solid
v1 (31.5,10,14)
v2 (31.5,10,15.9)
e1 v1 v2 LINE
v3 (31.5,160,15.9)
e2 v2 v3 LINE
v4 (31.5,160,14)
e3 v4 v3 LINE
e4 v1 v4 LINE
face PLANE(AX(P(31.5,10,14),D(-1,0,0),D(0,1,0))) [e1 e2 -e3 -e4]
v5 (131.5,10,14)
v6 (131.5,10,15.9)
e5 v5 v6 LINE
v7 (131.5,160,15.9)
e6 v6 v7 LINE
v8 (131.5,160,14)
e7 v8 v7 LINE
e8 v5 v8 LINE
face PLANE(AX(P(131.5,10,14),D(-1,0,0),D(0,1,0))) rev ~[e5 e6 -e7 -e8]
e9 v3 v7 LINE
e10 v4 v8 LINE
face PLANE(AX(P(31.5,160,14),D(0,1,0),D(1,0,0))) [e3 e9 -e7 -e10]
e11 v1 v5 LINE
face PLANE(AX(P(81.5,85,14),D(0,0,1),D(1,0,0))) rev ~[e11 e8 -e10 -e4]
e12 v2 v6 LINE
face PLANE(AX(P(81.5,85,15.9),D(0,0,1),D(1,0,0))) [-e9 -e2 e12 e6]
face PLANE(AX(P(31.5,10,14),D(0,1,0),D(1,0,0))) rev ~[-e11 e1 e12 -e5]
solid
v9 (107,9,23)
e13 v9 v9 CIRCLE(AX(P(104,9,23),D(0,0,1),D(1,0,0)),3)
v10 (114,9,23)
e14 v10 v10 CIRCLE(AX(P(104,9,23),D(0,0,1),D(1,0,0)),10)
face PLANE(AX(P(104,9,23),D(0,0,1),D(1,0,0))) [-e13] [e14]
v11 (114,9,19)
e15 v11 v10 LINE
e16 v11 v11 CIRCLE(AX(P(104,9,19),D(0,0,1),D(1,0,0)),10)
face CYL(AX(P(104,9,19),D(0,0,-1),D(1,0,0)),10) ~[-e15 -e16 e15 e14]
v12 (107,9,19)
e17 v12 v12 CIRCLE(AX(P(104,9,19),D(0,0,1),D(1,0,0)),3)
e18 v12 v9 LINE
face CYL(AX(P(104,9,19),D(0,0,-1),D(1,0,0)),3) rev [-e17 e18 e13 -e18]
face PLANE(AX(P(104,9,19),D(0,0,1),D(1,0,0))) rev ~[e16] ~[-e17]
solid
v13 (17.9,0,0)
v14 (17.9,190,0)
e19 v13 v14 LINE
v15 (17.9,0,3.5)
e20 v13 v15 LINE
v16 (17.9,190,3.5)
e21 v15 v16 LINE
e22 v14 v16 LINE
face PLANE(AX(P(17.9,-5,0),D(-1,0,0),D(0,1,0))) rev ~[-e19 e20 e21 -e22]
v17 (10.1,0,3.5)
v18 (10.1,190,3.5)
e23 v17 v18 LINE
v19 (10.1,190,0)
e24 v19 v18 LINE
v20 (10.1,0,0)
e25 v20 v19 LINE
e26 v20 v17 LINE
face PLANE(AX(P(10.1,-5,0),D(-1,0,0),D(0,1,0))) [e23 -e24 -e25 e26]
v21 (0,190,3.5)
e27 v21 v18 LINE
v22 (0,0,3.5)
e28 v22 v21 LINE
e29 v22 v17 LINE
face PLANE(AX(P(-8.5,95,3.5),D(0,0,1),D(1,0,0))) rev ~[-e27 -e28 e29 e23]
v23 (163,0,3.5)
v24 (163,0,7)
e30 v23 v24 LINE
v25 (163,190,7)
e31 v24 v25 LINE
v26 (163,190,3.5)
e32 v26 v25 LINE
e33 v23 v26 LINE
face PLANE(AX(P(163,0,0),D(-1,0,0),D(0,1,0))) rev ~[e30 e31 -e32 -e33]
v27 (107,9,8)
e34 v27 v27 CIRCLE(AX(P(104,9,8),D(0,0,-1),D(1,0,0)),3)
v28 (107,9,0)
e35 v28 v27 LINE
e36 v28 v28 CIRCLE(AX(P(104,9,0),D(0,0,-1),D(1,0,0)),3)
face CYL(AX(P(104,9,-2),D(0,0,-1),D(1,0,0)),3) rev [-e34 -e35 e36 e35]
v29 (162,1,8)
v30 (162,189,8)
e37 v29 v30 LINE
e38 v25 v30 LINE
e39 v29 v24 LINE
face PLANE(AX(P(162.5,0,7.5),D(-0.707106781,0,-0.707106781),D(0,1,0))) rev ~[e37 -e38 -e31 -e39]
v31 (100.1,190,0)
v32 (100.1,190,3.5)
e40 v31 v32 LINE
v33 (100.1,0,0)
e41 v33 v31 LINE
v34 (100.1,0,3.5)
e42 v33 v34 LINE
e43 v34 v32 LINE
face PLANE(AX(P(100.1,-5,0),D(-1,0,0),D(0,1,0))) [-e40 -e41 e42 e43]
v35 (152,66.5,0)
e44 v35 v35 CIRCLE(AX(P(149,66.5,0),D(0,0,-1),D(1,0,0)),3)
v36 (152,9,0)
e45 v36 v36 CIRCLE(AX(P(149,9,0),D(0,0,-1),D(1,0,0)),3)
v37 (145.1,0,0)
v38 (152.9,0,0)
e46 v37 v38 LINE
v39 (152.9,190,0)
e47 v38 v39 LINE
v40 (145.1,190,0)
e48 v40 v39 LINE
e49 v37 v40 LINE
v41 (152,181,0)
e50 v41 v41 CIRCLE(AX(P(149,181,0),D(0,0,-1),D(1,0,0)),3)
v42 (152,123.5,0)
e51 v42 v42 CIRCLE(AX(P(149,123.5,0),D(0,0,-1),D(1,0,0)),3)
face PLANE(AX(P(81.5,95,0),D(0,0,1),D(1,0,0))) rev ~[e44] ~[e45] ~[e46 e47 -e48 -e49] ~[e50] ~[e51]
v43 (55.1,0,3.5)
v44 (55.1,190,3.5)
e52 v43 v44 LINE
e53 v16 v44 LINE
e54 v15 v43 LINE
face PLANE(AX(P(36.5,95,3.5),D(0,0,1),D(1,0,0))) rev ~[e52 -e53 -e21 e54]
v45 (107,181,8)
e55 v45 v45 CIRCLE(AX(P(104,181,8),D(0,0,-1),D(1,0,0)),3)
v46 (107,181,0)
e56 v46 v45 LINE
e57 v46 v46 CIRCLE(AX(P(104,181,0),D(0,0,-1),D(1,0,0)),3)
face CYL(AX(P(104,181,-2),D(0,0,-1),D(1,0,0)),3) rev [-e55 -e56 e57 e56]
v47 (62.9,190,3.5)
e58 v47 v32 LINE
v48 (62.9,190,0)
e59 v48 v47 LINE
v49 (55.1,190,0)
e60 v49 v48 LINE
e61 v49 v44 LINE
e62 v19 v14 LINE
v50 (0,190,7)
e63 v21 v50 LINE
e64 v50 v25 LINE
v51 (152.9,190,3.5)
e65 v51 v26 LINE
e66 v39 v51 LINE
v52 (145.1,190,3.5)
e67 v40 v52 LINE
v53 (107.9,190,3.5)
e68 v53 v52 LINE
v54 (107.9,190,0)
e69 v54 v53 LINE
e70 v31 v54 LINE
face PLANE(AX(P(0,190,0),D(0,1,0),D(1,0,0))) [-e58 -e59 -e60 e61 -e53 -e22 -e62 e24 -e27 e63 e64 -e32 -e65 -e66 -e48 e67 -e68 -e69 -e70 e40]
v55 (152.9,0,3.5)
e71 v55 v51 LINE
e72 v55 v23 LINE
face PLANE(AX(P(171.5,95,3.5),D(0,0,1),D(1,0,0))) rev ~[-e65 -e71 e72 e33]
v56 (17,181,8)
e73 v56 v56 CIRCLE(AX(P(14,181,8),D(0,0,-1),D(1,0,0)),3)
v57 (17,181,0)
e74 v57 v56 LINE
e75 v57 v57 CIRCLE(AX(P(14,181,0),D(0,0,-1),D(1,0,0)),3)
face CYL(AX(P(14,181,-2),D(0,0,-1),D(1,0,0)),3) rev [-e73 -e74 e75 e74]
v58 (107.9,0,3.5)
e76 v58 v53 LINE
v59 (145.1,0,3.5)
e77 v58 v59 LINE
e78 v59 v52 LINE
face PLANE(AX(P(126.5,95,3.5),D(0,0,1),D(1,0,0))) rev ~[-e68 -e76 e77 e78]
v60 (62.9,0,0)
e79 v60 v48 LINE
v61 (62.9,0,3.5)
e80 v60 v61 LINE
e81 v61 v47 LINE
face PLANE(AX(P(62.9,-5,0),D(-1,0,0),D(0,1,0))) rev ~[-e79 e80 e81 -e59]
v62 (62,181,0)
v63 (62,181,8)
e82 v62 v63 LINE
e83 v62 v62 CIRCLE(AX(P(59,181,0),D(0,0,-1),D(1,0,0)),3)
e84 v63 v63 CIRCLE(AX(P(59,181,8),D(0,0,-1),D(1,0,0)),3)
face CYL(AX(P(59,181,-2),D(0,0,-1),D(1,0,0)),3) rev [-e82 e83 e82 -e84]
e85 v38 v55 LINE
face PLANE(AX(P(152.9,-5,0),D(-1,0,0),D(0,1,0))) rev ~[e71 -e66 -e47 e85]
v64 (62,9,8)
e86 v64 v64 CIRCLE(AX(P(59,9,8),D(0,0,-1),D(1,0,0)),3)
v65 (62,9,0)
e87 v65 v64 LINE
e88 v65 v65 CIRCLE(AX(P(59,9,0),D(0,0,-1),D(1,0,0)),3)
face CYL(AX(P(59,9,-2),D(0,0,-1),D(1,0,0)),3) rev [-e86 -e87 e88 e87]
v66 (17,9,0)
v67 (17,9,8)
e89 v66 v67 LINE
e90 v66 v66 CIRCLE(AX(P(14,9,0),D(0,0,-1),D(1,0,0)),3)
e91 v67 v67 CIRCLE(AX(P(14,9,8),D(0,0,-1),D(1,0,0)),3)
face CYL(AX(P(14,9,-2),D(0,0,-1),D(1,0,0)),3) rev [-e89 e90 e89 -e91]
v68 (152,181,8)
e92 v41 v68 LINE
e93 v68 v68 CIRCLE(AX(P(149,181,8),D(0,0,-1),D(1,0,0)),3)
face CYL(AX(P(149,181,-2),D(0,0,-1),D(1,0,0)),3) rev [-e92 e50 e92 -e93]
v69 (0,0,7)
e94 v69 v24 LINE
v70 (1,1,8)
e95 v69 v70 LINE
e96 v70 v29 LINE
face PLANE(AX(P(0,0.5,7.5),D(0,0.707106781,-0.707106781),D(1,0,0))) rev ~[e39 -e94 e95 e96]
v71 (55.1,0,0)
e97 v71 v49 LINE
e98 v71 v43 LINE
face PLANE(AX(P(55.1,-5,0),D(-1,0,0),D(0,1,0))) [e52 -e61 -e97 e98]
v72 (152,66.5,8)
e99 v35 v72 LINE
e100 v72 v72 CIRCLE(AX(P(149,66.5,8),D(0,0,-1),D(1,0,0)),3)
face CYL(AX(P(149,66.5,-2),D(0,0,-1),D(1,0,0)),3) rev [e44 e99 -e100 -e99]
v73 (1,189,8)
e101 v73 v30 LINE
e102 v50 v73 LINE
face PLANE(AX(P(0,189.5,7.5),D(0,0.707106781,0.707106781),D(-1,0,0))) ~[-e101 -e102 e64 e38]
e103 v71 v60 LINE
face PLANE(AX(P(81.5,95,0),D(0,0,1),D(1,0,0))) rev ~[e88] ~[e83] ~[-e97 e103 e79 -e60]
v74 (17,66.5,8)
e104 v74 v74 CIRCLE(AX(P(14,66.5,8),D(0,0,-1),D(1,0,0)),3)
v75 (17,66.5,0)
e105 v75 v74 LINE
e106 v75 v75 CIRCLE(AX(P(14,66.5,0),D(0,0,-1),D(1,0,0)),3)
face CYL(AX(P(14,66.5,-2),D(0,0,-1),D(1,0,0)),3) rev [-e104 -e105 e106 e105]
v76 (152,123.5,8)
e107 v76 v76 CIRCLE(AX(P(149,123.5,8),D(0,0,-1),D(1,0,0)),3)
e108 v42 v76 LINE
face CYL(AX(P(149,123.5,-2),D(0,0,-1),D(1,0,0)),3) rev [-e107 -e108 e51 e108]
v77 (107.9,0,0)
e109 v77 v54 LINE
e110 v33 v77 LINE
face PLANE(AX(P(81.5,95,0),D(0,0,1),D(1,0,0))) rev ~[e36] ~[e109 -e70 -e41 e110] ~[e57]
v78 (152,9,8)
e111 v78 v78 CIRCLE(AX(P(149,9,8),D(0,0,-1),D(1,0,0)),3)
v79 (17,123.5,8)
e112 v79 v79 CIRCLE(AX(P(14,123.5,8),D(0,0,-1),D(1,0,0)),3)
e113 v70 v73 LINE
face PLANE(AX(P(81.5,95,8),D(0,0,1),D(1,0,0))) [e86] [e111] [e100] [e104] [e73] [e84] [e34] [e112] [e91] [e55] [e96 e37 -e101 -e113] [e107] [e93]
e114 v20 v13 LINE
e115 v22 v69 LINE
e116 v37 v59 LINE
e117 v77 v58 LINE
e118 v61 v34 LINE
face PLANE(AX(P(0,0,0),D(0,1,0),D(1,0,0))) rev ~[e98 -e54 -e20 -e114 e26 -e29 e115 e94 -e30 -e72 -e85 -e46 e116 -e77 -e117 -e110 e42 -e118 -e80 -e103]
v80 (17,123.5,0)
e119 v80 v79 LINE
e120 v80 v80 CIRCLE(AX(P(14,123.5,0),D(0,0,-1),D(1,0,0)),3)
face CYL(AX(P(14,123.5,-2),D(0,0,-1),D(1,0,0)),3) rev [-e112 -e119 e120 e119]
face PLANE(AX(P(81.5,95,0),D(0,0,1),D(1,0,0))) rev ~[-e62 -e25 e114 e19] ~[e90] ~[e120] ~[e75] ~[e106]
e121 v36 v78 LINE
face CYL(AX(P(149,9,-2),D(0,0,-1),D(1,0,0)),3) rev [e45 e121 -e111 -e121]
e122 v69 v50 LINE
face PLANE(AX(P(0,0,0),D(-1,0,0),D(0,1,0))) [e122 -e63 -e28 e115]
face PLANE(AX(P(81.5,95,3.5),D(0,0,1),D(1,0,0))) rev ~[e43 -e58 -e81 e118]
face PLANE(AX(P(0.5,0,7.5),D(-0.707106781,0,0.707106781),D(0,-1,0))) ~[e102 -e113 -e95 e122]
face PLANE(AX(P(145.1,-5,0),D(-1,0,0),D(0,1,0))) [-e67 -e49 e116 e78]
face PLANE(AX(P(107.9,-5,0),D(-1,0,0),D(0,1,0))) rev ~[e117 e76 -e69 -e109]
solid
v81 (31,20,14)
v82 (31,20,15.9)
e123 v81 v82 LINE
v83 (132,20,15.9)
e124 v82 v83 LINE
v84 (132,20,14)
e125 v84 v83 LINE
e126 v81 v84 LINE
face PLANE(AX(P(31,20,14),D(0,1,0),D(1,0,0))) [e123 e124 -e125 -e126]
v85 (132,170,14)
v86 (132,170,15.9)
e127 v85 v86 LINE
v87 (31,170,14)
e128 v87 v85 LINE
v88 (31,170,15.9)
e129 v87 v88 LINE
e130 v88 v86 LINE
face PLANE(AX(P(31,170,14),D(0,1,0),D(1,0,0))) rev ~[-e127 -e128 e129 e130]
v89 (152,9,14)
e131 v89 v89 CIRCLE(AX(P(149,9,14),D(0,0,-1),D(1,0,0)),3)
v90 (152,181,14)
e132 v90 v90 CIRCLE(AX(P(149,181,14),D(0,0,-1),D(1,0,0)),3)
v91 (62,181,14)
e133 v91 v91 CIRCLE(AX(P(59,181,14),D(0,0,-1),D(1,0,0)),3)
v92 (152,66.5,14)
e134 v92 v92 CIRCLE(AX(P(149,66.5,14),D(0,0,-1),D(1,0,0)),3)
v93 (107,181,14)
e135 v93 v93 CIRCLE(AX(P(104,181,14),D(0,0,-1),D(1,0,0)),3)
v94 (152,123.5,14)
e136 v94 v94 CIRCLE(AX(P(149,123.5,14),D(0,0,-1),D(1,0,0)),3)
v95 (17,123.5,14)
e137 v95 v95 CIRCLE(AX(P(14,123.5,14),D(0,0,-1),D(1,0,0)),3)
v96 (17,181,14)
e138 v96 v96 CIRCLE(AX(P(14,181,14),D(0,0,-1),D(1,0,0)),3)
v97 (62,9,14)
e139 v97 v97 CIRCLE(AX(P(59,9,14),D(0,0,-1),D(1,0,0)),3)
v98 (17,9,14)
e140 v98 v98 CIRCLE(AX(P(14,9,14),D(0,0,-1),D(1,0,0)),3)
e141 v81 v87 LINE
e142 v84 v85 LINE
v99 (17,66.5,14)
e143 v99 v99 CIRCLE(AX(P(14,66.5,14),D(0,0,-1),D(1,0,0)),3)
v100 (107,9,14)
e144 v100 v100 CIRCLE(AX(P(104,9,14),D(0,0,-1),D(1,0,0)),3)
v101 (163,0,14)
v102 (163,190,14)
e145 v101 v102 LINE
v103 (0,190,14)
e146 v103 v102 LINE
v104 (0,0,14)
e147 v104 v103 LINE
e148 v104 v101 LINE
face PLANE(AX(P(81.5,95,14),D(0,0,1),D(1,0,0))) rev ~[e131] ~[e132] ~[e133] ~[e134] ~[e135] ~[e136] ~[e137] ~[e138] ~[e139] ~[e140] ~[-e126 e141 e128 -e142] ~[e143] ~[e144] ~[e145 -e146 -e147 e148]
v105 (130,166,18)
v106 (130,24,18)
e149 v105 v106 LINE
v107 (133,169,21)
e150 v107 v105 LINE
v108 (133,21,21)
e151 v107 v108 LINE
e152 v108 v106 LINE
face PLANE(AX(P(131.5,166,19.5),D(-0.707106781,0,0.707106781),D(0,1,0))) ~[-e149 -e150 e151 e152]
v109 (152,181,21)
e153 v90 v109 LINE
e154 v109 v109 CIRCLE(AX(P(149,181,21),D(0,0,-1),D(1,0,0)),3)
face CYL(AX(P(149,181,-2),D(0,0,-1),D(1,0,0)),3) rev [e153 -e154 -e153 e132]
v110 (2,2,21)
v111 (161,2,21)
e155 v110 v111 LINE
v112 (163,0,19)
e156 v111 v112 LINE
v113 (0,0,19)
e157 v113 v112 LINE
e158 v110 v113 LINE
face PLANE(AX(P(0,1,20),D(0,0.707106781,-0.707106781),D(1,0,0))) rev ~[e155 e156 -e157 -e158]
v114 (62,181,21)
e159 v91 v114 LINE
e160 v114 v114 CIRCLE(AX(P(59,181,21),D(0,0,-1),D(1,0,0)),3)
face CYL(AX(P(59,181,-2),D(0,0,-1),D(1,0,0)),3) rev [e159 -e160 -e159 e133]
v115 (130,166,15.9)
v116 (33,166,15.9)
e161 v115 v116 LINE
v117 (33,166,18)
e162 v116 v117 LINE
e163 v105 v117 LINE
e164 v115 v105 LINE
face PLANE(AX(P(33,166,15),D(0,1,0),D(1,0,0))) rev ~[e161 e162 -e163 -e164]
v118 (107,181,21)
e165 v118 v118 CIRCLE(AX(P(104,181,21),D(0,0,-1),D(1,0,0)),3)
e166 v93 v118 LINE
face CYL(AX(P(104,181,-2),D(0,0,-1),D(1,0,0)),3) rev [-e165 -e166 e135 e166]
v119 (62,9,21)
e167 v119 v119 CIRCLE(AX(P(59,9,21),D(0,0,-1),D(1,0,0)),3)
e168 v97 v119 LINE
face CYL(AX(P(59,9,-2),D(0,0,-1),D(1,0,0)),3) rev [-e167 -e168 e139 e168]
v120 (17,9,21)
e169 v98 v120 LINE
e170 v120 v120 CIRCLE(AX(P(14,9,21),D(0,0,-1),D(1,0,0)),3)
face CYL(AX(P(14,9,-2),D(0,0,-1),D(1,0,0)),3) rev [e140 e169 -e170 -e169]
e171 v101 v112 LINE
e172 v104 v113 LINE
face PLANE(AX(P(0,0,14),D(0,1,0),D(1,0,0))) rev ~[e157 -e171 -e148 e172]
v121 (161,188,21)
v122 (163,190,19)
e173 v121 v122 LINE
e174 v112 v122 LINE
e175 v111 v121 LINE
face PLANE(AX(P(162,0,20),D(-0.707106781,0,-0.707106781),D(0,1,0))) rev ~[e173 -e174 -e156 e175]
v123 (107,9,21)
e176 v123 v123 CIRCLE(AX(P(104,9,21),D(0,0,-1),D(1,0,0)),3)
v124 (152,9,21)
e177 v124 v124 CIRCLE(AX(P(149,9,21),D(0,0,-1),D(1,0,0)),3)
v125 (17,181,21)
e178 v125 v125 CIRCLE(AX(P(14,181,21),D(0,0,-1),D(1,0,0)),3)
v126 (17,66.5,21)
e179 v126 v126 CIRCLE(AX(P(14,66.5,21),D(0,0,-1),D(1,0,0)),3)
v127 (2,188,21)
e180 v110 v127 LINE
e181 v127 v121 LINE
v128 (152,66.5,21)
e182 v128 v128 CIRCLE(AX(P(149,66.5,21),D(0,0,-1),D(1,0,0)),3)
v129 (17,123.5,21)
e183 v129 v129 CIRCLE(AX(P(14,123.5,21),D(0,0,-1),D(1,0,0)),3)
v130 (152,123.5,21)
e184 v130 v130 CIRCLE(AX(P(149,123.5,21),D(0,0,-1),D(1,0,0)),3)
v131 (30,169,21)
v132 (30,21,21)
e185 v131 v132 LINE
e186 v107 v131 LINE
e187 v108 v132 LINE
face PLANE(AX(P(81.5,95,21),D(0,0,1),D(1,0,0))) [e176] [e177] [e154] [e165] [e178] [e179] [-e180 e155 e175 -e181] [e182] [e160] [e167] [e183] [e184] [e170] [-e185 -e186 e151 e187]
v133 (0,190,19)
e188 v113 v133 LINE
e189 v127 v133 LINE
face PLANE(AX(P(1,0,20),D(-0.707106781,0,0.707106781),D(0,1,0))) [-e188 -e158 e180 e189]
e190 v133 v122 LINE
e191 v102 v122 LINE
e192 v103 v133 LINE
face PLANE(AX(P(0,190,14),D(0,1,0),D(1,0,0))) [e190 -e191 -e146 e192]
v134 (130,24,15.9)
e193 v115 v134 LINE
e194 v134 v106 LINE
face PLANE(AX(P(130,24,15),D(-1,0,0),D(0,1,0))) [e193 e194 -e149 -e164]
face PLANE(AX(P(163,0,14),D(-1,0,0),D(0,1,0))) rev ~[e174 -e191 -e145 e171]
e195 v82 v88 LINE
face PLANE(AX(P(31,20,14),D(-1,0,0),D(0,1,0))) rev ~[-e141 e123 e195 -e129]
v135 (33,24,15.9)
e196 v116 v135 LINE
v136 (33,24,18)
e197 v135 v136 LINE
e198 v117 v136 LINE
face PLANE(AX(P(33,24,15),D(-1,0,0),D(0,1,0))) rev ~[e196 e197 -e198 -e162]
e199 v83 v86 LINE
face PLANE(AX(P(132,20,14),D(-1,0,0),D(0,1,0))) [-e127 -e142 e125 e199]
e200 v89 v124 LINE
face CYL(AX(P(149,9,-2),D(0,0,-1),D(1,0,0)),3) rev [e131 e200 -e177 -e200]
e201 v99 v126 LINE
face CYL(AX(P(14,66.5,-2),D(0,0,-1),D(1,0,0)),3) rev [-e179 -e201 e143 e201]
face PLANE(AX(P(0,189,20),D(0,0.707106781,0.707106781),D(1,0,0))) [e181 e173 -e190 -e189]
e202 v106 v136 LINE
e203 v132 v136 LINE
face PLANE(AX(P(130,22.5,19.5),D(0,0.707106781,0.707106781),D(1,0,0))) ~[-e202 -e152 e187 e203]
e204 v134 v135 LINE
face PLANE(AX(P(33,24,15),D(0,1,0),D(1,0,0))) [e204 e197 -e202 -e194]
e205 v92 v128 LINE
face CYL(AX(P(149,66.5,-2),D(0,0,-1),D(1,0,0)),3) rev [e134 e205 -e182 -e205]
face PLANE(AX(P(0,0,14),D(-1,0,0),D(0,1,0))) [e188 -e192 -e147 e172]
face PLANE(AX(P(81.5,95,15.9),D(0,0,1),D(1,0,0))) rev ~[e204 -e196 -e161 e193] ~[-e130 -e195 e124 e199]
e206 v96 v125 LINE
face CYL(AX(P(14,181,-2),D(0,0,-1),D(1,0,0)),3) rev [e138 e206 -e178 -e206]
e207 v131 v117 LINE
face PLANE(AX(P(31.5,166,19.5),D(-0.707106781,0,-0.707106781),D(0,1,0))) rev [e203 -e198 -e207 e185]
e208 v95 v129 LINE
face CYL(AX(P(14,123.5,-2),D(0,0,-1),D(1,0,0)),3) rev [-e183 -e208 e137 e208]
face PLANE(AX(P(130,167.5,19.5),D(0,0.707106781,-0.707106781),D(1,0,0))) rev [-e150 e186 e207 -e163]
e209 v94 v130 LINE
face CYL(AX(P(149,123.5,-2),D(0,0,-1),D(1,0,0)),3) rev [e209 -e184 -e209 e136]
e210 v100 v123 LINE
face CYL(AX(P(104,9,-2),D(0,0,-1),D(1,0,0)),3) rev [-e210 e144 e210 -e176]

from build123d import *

# Parameters (mm, degrees)
BOX002_W          = 100
BOX002_H          = 150
BOX002_DEPTH      = 1.9
TUBE_R            = 10
TUBE_R_2          = 3
TUBE_DEPTH        = 4
BOX010_W          = 97
BOX010_H          = 142
BOX010_DEPTH      = 10
BOX009_W          = 101
BOX009_H          = 150
BOX009_DEPTH      = 1.9
CYLINDER016_R     = 3
CYLINDER016_DEPTH = 30
CYLINDER014_R     = 3
CYLINDER014_DEPTH = 30
CYLINDER012_R     = 3
CYLINDER012_DEPTH = 30
CYLINDER018_R     = 3
CYLINDER018_DEPTH = 30
CYLINDER019_R     = 3
CYLINDER019_DEPTH = 30
CYLINDER013_R     = 3
CYLINDER013_DEPTH = 30
CYLINDER015_R     = 3
CYLINDER015_DEPTH = 30
CYLINDER017_R     = 3
CYLINDER017_DEPTH = 30
CYLINDER002_R     = 3
CYLINDER002_DEPTH = 30
CYLINDER032_R     = 3
CYLINDER032_DEPTH = 30
CYLINDER021_R     = 3
CYLINDER021_DEPTH = 30
CYLINDER_R        = 3
CYLINDER_DEPTH    = 30
BOX007_W          = 163
BOX007_H          = 190
BOX007_DEPTH      = 7
CHAMFER_SIZE      = 3
CHAMFER001_SIZE   = 2
CYLINDER025_R     = 3
CYLINDER025_DEPTH = 30
CYLINDER031_R     = 3
CYLINDER031_DEPTH = 30
CYLINDER030_R     = 3
CYLINDER030_DEPTH = 30
CYLINDER024_R     = 3
CYLINDER024_DEPTH = 30
CYLINDER026_R     = 3
CYLINDER026_DEPTH = 30
CYLINDER027_R     = 3
CYLINDER027_DEPTH = 30
CYLINDER029_R     = 3
CYLINDER029_DEPTH = 30
CYLINDER023_R     = 3
CYLINDER023_DEPTH = 30
CYLINDER020_R     = 3
CYLINDER020_DEPTH = 30
CYLINDER028_R     = 3
CYLINDER028_DEPTH = 30
CYLINDER022_R     = 3
CYLINDER022_DEPTH = 30
CYLINDER033_R     = 3
CYLINDER033_DEPTH = 30
BOX006_W          = 37.2
BOX006_H          = 200
BOX006_DEPTH      = 3.5
BOX005_W          = 37.2
BOX005_H          = 200
BOX005_DEPTH      = 3.5
BOX004_W          = 37.2
BOX004_H          = 200
BOX004_DEPTH      = 3.5
BOX003_W          = 37.2
BOX003_H          = 200
BOX003_DEPTH      = 3.5
BOX001_W          = 37.2
BOX001_H          = 200
BOX001_DEPTH      = 3.5
BOX_W             = 163
BOX_H             = 190
BOX_DEPTH         = 8
CHAMFER002_SIZE   = 1


with BuildPart() as plate:
    # Box002 → Box002 (new body)
    with BuildSketch(Plane(origin=(31.5, 10, 14), x_dir=(1, 0, 0), z_dir=(0, 0, 1))):
        with Locations((50, 75)):
            Rectangle(BOX002_W, BOX002_H)
    extrude(amount=BOX002_DEPTH)


with BuildPart() as tube:
    # Tube → Tube (new body)
    with BuildSketch(Plane(origin=(104, 9, 19), x_dir=(1, 0, 0), z_dir=(0, 0, 1))):
        Circle(TUBE_R)
        Circle(TUBE_R_2, mode=Mode.SUBTRACT)
    extrude(amount=TUBE_DEPTH)


with BuildPart() as cube007:
    # Box010 → Box010 (new body)
    with BuildSketch(Plane(origin=(33, 24, 15), x_dir=(1, 0, 0), z_dir=(0, 0, 1))):
        with Locations((48.5, 71)):
            Rectangle(BOX010_W, BOX010_H)
    extrude(amount=BOX010_DEPTH)


with BuildPart() as plate002:
    # Box009 → Box009 (new body)
    with BuildSketch(Plane(origin=(31, 20, 14), x_dir=(1, 0, 0), z_dir=(0, 0, 1))):
        with Locations((50.5, 75)):
            Rectangle(BOX009_W, BOX009_H)
    extrude(amount=BOX009_DEPTH)


with BuildPart() as cylinder016:
    # Cylinder016 → Cylinder016 (new body)
    with BuildSketch(Plane(origin=(14, 66.5, -2), x_dir=(1, 0, 0), z_dir=(0, 0, 1))):
        Circle(CYLINDER016_R)
    extrude(amount=CYLINDER016_DEPTH)


with BuildPart() as cylinder014:
    # Cylinder014 → Cylinder014 (new body)
    with BuildSketch(Plane(origin=(14, 123.5, -2), x_dir=(1, 0, 0), z_dir=(0, 0, 1))):
        Circle(CYLINDER014_R)
    extrude(amount=CYLINDER014_DEPTH)


with BuildPart() as cylinder012:
    # Cylinder012 → Cylinder012 (new body)
    with BuildSketch(Plane(origin=(14, 181, -2), x_dir=(1, 0, 0), z_dir=(0, 0, 1))):
        Circle(CYLINDER012_R)
    extrude(amount=CYLINDER012_DEPTH)


with BuildPart() as cylinder018:
    # Cylinder018 → Cylinder018 (new body)
    with BuildSketch(Plane(origin=(59, 181, -2), x_dir=(1, 0, 0), z_dir=(0, 0, 1))):
        Circle(CYLINDER018_R)
    extrude(amount=CYLINDER018_DEPTH)


with BuildPart() as cylinder019:
    # Cylinder019 → Cylinder019 (new body)
    with BuildSketch(Plane(origin=(104, 181, -2), x_dir=(1, 0, 0), z_dir=(0, 0, 1))):
        Circle(CYLINDER019_R)
    extrude(amount=CYLINDER019_DEPTH)


with BuildPart() as cylinder013:
    # Cylinder013 → Cylinder013 (new body)
    with BuildSketch(Plane(origin=(149, 181, -2), x_dir=(1, 0, 0), z_dir=(0, 0, 1))):
        Circle(CYLINDER013_R)
    extrude(amount=CYLINDER013_DEPTH)


with BuildPart() as cylinder015:
    # Cylinder015 → Cylinder015 (new body)
    with BuildSketch(Plane(origin=(149, 123.5, -2), x_dir=(1, 0, 0), z_dir=(0, 0, 1))):
        Circle(CYLINDER015_R)
    extrude(amount=CYLINDER015_DEPTH)


with BuildPart() as cylinder017:
    # Cylinder017 → Cylinder017 (new body)
    with BuildSketch(Plane(origin=(149, 66.5, -2), x_dir=(1, 0, 0), z_dir=(0, 0, 1))):
        Circle(CYLINDER017_R)
    extrude(amount=CYLINDER017_DEPTH)


with BuildPart() as cylinder002:
    # Cylinder002 → Cylinder002 (new body)
    with BuildSketch(Plane(origin=(149, 9, -2), x_dir=(1, 0, 0), z_dir=(0, 0, 1))):
        Circle(CYLINDER002_R)
    extrude(amount=CYLINDER002_DEPTH)


with BuildPart() as cylinder032:
    # Cylinder032 → Cylinder032 (new body)
    with BuildSketch(Plane(origin=(104, 9, -2), x_dir=(1, 0, 0), z_dir=(0, 0, 1))):
        Circle(CYLINDER032_R)
    extrude(amount=CYLINDER032_DEPTH)


with BuildPart() as cylinder021:
    # Cylinder021 → Cylinder021 (new body)
    with BuildSketch(Plane(origin=(59, 9, -2), x_dir=(1, 0, 0), z_dir=(0, 0, 1))):
        Circle(CYLINDER021_R)
    extrude(amount=CYLINDER021_DEPTH)


with BuildPart() as cylinder:
    # Cylinder → Cylinder (new body)
    with BuildSketch(Plane(origin=(14, 9, -2), x_dir=(1, 0, 0), z_dir=(0, 0, 1))):
        Circle(CYLINDER_R)
    extrude(amount=CYLINDER_DEPTH)


with BuildPart() as table_top:
    # Box007 → Box007 (new body)
    with BuildSketch(Plane.XY.offset(14)):
        with Locations((81.5, 95)):
            Rectangle(BOX007_W, BOX007_H)
    extrude(amount=BOX007_DEPTH)

    # Cut005: cut Cylinder
    add(cylinder.part, mode=Mode.SUBTRACT)

    # Cut006: cut Cylinder021
    add(cylinder021.part, mode=Mode.SUBTRACT)

    # Cut007: cut Cylinder032
    add(cylinder032.part, mode=Mode.SUBTRACT)

    # Cut008: cut Cylinder002
    add(cylinder002.part, mode=Mode.SUBTRACT)

    # Cut009: cut Cylinder017
    add(cylinder017.part, mode=Mode.SUBTRACT)

    # Cut010: cut Cylinder015
    add(cylinder015.part, mode=Mode.SUBTRACT)

    # Cut011: cut Cylinder013
    add(cylinder013.part, mode=Mode.SUBTRACT)

    # Cut012: cut Cylinder019
    add(cylinder019.part, mode=Mode.SUBTRACT)

    # Cut013: cut Cylinder018
    add(cylinder018.part, mode=Mode.SUBTRACT)

    # Cut014: cut Cylinder012
    add(cylinder012.part, mode=Mode.SUBTRACT)

    # Cut015: cut Cylinder014
    add(cylinder014.part, mode=Mode.SUBTRACT)

    # Cut016: cut Cylinder016
    add(cylinder016.part, mode=Mode.SUBTRACT)

    # Cut029: cut plate002
    add(plate002.part, mode=Mode.SUBTRACT)

    # Cut030: cut Cube007
    add(cube007.part, mode=Mode.SUBTRACT)

    # Chamfer
    chamfer_edges = [table_top.edges().sort_by_distance(p)[0] for p in [
        (81.5, 24, 21),
        (130, 95, 21),
        (81.5, 166, 21),
        (33, 95, 21),
    ]]
    chamfer(chamfer_edges, length=CHAMFER_SIZE)

    # Chamfer001
    chamfer001_edges = [table_top.edges().sort_by_distance(p)[0] for p in [
        (0, 95, 21),
        (81.5, 0, 21),
        (163, 95, 21),
        (81.5, 190, 21),
    ]]
    chamfer(chamfer001_edges, length=CHAMFER001_SIZE)


with BuildPart() as cylinder025:
    # Cylinder025 → Cylinder025 (new body)
    with BuildSketch(Plane(origin=(149, 181, -2), x_dir=(1, 0, 0), z_dir=(0, 0, 1))):
        Circle(CYLINDER025_R)
    extrude(amount=CYLINDER025_DEPTH)


with BuildPart() as cylinder031:
    # Cylinder031 → Cylinder031 (new body)
    with BuildSketch(Plane(origin=(104, 181, -2), x_dir=(1, 0, 0), z_dir=(0, 0, 1))):
        Circle(CYLINDER031_R)
    extrude(amount=CYLINDER031_DEPTH)


with BuildPart() as cylinder030:
    # Cylinder030 → Cylinder030 (new body)
    with BuildSketch(Plane(origin=(59, 181, -2), x_dir=(1, 0, 0), z_dir=(0, 0, 1))):
        Circle(CYLINDER030_R)
    extrude(amount=CYLINDER030_DEPTH)


with BuildPart() as cylinder024:
    # Cylinder024 → Cylinder024 (new body)
    with BuildSketch(Plane(origin=(14, 181, -2), x_dir=(1, 0, 0), z_dir=(0, 0, 1))):
        Circle(CYLINDER024_R)
    extrude(amount=CYLINDER024_DEPTH)


with BuildPart() as cylinder026:
    # Cylinder026 → Cylinder026 (new body)
    with BuildSketch(Plane(origin=(14, 123.5, -2), x_dir=(1, 0, 0), z_dir=(0, 0, 1))):
        Circle(CYLINDER026_R)
    extrude(amount=CYLINDER026_DEPTH)


with BuildPart() as cylinder027:
    # Cylinder027 → Cylinder027 (new body)
    with BuildSketch(Plane(origin=(149, 123.5, -2), x_dir=(1, 0, 0), z_dir=(0, 0, 1))):
        Circle(CYLINDER027_R)
    extrude(amount=CYLINDER027_DEPTH)


with BuildPart() as cylinder029:
    # Cylinder029 → Cylinder029 (new body)
    with BuildSketch(Plane(origin=(149, 66.5, -2), x_dir=(1, 0, 0), z_dir=(0, 0, 1))):
        Circle(CYLINDER029_R)
    extrude(amount=CYLINDER029_DEPTH)


with BuildPart() as cylinder023:
    # Cylinder023 → Cylinder023 (new body)
    with BuildSketch(Plane(origin=(149, 9, -2), x_dir=(1, 0, 0), z_dir=(0, 0, 1))):
        Circle(CYLINDER023_R)
    extrude(amount=CYLINDER023_DEPTH)


with BuildPart() as cylinder020:
    # Cylinder020 → Cylinder020 (new body)
    with BuildSketch(Plane(origin=(104, 9, -2), x_dir=(1, 0, 0), z_dir=(0, 0, 1))):
        Circle(CYLINDER020_R)
    extrude(amount=CYLINDER020_DEPTH)


with BuildPart() as cylinder028:
    # Cylinder028 → Cylinder028 (new body)
    with BuildSketch(Plane(origin=(14, 66.5, -2), x_dir=(1, 0, 0), z_dir=(0, 0, 1))):
        Circle(CYLINDER028_R)
    extrude(amount=CYLINDER028_DEPTH)


with BuildPart() as cylinder022:
    # Cylinder022 → Cylinder022 (new body)
    with BuildSketch(Plane(origin=(14, 9, -2), x_dir=(1, 0, 0), z_dir=(0, 0, 1))):
        Circle(CYLINDER022_R)
    extrude(amount=CYLINDER022_DEPTH)


with BuildPart() as cylinder033:
    # Cylinder033 → Cylinder033 (new body)
    with BuildSketch(Plane(origin=(59, 9, -2), x_dir=(1, 0, 0), z_dir=(0, 0, 1))):
        Circle(CYLINDER033_R)
    extrude(amount=CYLINDER033_DEPTH)


with BuildPart() as cube005:
    # Box006 → Box006 (new body)
    with BuildSketch(Plane(origin=(-27.1, -5, 0), x_dir=(1, 0, 0), z_dir=(0, 0, 1))):
        with Locations((18.6, 100)):
            Rectangle(BOX006_W, BOX006_H)
    extrude(amount=BOX006_DEPTH)


with BuildPart() as cube004:
    # Box005 → Box005 (new body)
    with BuildSketch(Plane(origin=(152.9, -5, 0), x_dir=(1, 0, 0), z_dir=(0, 0, 1))):
        with Locations((18.6, 100)):
            Rectangle(BOX005_W, BOX005_H)
    extrude(amount=BOX005_DEPTH)


with BuildPart() as cube003:
    # Box004 → Box004 (new body)
    with BuildSketch(Plane(origin=(107.9, -5, 0), x_dir=(1, 0, 0), z_dir=(0, 0, 1))):
        with Locations((18.6, 100)):
            Rectangle(BOX004_W, BOX004_H)
    extrude(amount=BOX004_DEPTH)


with BuildPart() as cube002:
    # Box003 → Box003 (new body)
    with BuildSketch(Plane(origin=(62.9, -5, 0), x_dir=(1, 0, 0), z_dir=(0, 0, 1))):
        with Locations((18.6, 100)):
            Rectangle(BOX003_W, BOX003_H)
    extrude(amount=BOX003_DEPTH)


with BuildPart() as cube001:
    # Box001 → Box001 (new body)
    with BuildSketch(Plane(origin=(17.9, -5, 0), x_dir=(1, 0, 0), z_dir=(0, 0, 1))):
        with Locations((18.6, 100)):
            Rectangle(BOX001_W, BOX001_H)
    extrude(amount=BOX001_DEPTH)


with BuildPart() as table_top001:
    # Box → Box (new body)
    with BuildSketch(Plane.XY):
        with Locations((81.5, 95)):
            Rectangle(BOX_W, BOX_H)
    extrude(amount=BOX_DEPTH)

    # Cut: cut Cube001
    add(cube001.part, mode=Mode.SUBTRACT)

    # Cut001: cut Cube002
    add(cube002.part, mode=Mode.SUBTRACT)

    # Cut002: cut Cube003
    add(cube003.part, mode=Mode.SUBTRACT)

    # Cut003: cut Cube004
    add(cube004.part, mode=Mode.SUBTRACT)

    # Cut004: cut Cube005
    add(cube005.part, mode=Mode.SUBTRACT)

    # Cut017: cut Cylinder033
    add(cylinder033.part, mode=Mode.SUBTRACT)

    # Cut018: cut Cylinder022
    add(cylinder022.part, mode=Mode.SUBTRACT)

    # Cut019: cut Cylinder028
    add(cylinder028.part, mode=Mode.SUBTRACT)

    # Cut020: cut Cylinder020
    add(cylinder020.part, mode=Mode.SUBTRACT)

    # Cut021: cut Cylinder023
    add(cylinder023.part, mode=Mode.SUBTRACT)

    # Cut022: cut Cylinder029
    add(cylinder029.part, mode=Mode.SUBTRACT)

    # Cut023: cut Cylinder027
    add(cylinder027.part, mode=Mode.SUBTRACT)

    # Cut024: cut Cylinder026
    add(cylinder026.part, mode=Mode.SUBTRACT)

    # Cut025: cut Cylinder024
    add(cylinder024.part, mode=Mode.SUBTRACT)

    # Cut026: cut Cylinder030
    add(cylinder030.part, mode=Mode.SUBTRACT)

    # Cut027: cut Cylinder031
    add(cylinder031.part, mode=Mode.SUBTRACT)

    # Cut028: cut Cylinder025
    add(cylinder025.part, mode=Mode.SUBTRACT)

    # Chamfer002
    chamfer002_edges = [table_top001.edges().sort_by_distance(p)[0] for p in [
        (0, 95, 8),
        (81.5, 0, 8),
        (81.5, 190, 8),
        (163, 95, 8),
    ]]
    chamfer(chamfer002_edges, length=CHAMFER002_SIZE)


solid = Compound([plate.part, tube.part, table_top.part, table_top001.part])
